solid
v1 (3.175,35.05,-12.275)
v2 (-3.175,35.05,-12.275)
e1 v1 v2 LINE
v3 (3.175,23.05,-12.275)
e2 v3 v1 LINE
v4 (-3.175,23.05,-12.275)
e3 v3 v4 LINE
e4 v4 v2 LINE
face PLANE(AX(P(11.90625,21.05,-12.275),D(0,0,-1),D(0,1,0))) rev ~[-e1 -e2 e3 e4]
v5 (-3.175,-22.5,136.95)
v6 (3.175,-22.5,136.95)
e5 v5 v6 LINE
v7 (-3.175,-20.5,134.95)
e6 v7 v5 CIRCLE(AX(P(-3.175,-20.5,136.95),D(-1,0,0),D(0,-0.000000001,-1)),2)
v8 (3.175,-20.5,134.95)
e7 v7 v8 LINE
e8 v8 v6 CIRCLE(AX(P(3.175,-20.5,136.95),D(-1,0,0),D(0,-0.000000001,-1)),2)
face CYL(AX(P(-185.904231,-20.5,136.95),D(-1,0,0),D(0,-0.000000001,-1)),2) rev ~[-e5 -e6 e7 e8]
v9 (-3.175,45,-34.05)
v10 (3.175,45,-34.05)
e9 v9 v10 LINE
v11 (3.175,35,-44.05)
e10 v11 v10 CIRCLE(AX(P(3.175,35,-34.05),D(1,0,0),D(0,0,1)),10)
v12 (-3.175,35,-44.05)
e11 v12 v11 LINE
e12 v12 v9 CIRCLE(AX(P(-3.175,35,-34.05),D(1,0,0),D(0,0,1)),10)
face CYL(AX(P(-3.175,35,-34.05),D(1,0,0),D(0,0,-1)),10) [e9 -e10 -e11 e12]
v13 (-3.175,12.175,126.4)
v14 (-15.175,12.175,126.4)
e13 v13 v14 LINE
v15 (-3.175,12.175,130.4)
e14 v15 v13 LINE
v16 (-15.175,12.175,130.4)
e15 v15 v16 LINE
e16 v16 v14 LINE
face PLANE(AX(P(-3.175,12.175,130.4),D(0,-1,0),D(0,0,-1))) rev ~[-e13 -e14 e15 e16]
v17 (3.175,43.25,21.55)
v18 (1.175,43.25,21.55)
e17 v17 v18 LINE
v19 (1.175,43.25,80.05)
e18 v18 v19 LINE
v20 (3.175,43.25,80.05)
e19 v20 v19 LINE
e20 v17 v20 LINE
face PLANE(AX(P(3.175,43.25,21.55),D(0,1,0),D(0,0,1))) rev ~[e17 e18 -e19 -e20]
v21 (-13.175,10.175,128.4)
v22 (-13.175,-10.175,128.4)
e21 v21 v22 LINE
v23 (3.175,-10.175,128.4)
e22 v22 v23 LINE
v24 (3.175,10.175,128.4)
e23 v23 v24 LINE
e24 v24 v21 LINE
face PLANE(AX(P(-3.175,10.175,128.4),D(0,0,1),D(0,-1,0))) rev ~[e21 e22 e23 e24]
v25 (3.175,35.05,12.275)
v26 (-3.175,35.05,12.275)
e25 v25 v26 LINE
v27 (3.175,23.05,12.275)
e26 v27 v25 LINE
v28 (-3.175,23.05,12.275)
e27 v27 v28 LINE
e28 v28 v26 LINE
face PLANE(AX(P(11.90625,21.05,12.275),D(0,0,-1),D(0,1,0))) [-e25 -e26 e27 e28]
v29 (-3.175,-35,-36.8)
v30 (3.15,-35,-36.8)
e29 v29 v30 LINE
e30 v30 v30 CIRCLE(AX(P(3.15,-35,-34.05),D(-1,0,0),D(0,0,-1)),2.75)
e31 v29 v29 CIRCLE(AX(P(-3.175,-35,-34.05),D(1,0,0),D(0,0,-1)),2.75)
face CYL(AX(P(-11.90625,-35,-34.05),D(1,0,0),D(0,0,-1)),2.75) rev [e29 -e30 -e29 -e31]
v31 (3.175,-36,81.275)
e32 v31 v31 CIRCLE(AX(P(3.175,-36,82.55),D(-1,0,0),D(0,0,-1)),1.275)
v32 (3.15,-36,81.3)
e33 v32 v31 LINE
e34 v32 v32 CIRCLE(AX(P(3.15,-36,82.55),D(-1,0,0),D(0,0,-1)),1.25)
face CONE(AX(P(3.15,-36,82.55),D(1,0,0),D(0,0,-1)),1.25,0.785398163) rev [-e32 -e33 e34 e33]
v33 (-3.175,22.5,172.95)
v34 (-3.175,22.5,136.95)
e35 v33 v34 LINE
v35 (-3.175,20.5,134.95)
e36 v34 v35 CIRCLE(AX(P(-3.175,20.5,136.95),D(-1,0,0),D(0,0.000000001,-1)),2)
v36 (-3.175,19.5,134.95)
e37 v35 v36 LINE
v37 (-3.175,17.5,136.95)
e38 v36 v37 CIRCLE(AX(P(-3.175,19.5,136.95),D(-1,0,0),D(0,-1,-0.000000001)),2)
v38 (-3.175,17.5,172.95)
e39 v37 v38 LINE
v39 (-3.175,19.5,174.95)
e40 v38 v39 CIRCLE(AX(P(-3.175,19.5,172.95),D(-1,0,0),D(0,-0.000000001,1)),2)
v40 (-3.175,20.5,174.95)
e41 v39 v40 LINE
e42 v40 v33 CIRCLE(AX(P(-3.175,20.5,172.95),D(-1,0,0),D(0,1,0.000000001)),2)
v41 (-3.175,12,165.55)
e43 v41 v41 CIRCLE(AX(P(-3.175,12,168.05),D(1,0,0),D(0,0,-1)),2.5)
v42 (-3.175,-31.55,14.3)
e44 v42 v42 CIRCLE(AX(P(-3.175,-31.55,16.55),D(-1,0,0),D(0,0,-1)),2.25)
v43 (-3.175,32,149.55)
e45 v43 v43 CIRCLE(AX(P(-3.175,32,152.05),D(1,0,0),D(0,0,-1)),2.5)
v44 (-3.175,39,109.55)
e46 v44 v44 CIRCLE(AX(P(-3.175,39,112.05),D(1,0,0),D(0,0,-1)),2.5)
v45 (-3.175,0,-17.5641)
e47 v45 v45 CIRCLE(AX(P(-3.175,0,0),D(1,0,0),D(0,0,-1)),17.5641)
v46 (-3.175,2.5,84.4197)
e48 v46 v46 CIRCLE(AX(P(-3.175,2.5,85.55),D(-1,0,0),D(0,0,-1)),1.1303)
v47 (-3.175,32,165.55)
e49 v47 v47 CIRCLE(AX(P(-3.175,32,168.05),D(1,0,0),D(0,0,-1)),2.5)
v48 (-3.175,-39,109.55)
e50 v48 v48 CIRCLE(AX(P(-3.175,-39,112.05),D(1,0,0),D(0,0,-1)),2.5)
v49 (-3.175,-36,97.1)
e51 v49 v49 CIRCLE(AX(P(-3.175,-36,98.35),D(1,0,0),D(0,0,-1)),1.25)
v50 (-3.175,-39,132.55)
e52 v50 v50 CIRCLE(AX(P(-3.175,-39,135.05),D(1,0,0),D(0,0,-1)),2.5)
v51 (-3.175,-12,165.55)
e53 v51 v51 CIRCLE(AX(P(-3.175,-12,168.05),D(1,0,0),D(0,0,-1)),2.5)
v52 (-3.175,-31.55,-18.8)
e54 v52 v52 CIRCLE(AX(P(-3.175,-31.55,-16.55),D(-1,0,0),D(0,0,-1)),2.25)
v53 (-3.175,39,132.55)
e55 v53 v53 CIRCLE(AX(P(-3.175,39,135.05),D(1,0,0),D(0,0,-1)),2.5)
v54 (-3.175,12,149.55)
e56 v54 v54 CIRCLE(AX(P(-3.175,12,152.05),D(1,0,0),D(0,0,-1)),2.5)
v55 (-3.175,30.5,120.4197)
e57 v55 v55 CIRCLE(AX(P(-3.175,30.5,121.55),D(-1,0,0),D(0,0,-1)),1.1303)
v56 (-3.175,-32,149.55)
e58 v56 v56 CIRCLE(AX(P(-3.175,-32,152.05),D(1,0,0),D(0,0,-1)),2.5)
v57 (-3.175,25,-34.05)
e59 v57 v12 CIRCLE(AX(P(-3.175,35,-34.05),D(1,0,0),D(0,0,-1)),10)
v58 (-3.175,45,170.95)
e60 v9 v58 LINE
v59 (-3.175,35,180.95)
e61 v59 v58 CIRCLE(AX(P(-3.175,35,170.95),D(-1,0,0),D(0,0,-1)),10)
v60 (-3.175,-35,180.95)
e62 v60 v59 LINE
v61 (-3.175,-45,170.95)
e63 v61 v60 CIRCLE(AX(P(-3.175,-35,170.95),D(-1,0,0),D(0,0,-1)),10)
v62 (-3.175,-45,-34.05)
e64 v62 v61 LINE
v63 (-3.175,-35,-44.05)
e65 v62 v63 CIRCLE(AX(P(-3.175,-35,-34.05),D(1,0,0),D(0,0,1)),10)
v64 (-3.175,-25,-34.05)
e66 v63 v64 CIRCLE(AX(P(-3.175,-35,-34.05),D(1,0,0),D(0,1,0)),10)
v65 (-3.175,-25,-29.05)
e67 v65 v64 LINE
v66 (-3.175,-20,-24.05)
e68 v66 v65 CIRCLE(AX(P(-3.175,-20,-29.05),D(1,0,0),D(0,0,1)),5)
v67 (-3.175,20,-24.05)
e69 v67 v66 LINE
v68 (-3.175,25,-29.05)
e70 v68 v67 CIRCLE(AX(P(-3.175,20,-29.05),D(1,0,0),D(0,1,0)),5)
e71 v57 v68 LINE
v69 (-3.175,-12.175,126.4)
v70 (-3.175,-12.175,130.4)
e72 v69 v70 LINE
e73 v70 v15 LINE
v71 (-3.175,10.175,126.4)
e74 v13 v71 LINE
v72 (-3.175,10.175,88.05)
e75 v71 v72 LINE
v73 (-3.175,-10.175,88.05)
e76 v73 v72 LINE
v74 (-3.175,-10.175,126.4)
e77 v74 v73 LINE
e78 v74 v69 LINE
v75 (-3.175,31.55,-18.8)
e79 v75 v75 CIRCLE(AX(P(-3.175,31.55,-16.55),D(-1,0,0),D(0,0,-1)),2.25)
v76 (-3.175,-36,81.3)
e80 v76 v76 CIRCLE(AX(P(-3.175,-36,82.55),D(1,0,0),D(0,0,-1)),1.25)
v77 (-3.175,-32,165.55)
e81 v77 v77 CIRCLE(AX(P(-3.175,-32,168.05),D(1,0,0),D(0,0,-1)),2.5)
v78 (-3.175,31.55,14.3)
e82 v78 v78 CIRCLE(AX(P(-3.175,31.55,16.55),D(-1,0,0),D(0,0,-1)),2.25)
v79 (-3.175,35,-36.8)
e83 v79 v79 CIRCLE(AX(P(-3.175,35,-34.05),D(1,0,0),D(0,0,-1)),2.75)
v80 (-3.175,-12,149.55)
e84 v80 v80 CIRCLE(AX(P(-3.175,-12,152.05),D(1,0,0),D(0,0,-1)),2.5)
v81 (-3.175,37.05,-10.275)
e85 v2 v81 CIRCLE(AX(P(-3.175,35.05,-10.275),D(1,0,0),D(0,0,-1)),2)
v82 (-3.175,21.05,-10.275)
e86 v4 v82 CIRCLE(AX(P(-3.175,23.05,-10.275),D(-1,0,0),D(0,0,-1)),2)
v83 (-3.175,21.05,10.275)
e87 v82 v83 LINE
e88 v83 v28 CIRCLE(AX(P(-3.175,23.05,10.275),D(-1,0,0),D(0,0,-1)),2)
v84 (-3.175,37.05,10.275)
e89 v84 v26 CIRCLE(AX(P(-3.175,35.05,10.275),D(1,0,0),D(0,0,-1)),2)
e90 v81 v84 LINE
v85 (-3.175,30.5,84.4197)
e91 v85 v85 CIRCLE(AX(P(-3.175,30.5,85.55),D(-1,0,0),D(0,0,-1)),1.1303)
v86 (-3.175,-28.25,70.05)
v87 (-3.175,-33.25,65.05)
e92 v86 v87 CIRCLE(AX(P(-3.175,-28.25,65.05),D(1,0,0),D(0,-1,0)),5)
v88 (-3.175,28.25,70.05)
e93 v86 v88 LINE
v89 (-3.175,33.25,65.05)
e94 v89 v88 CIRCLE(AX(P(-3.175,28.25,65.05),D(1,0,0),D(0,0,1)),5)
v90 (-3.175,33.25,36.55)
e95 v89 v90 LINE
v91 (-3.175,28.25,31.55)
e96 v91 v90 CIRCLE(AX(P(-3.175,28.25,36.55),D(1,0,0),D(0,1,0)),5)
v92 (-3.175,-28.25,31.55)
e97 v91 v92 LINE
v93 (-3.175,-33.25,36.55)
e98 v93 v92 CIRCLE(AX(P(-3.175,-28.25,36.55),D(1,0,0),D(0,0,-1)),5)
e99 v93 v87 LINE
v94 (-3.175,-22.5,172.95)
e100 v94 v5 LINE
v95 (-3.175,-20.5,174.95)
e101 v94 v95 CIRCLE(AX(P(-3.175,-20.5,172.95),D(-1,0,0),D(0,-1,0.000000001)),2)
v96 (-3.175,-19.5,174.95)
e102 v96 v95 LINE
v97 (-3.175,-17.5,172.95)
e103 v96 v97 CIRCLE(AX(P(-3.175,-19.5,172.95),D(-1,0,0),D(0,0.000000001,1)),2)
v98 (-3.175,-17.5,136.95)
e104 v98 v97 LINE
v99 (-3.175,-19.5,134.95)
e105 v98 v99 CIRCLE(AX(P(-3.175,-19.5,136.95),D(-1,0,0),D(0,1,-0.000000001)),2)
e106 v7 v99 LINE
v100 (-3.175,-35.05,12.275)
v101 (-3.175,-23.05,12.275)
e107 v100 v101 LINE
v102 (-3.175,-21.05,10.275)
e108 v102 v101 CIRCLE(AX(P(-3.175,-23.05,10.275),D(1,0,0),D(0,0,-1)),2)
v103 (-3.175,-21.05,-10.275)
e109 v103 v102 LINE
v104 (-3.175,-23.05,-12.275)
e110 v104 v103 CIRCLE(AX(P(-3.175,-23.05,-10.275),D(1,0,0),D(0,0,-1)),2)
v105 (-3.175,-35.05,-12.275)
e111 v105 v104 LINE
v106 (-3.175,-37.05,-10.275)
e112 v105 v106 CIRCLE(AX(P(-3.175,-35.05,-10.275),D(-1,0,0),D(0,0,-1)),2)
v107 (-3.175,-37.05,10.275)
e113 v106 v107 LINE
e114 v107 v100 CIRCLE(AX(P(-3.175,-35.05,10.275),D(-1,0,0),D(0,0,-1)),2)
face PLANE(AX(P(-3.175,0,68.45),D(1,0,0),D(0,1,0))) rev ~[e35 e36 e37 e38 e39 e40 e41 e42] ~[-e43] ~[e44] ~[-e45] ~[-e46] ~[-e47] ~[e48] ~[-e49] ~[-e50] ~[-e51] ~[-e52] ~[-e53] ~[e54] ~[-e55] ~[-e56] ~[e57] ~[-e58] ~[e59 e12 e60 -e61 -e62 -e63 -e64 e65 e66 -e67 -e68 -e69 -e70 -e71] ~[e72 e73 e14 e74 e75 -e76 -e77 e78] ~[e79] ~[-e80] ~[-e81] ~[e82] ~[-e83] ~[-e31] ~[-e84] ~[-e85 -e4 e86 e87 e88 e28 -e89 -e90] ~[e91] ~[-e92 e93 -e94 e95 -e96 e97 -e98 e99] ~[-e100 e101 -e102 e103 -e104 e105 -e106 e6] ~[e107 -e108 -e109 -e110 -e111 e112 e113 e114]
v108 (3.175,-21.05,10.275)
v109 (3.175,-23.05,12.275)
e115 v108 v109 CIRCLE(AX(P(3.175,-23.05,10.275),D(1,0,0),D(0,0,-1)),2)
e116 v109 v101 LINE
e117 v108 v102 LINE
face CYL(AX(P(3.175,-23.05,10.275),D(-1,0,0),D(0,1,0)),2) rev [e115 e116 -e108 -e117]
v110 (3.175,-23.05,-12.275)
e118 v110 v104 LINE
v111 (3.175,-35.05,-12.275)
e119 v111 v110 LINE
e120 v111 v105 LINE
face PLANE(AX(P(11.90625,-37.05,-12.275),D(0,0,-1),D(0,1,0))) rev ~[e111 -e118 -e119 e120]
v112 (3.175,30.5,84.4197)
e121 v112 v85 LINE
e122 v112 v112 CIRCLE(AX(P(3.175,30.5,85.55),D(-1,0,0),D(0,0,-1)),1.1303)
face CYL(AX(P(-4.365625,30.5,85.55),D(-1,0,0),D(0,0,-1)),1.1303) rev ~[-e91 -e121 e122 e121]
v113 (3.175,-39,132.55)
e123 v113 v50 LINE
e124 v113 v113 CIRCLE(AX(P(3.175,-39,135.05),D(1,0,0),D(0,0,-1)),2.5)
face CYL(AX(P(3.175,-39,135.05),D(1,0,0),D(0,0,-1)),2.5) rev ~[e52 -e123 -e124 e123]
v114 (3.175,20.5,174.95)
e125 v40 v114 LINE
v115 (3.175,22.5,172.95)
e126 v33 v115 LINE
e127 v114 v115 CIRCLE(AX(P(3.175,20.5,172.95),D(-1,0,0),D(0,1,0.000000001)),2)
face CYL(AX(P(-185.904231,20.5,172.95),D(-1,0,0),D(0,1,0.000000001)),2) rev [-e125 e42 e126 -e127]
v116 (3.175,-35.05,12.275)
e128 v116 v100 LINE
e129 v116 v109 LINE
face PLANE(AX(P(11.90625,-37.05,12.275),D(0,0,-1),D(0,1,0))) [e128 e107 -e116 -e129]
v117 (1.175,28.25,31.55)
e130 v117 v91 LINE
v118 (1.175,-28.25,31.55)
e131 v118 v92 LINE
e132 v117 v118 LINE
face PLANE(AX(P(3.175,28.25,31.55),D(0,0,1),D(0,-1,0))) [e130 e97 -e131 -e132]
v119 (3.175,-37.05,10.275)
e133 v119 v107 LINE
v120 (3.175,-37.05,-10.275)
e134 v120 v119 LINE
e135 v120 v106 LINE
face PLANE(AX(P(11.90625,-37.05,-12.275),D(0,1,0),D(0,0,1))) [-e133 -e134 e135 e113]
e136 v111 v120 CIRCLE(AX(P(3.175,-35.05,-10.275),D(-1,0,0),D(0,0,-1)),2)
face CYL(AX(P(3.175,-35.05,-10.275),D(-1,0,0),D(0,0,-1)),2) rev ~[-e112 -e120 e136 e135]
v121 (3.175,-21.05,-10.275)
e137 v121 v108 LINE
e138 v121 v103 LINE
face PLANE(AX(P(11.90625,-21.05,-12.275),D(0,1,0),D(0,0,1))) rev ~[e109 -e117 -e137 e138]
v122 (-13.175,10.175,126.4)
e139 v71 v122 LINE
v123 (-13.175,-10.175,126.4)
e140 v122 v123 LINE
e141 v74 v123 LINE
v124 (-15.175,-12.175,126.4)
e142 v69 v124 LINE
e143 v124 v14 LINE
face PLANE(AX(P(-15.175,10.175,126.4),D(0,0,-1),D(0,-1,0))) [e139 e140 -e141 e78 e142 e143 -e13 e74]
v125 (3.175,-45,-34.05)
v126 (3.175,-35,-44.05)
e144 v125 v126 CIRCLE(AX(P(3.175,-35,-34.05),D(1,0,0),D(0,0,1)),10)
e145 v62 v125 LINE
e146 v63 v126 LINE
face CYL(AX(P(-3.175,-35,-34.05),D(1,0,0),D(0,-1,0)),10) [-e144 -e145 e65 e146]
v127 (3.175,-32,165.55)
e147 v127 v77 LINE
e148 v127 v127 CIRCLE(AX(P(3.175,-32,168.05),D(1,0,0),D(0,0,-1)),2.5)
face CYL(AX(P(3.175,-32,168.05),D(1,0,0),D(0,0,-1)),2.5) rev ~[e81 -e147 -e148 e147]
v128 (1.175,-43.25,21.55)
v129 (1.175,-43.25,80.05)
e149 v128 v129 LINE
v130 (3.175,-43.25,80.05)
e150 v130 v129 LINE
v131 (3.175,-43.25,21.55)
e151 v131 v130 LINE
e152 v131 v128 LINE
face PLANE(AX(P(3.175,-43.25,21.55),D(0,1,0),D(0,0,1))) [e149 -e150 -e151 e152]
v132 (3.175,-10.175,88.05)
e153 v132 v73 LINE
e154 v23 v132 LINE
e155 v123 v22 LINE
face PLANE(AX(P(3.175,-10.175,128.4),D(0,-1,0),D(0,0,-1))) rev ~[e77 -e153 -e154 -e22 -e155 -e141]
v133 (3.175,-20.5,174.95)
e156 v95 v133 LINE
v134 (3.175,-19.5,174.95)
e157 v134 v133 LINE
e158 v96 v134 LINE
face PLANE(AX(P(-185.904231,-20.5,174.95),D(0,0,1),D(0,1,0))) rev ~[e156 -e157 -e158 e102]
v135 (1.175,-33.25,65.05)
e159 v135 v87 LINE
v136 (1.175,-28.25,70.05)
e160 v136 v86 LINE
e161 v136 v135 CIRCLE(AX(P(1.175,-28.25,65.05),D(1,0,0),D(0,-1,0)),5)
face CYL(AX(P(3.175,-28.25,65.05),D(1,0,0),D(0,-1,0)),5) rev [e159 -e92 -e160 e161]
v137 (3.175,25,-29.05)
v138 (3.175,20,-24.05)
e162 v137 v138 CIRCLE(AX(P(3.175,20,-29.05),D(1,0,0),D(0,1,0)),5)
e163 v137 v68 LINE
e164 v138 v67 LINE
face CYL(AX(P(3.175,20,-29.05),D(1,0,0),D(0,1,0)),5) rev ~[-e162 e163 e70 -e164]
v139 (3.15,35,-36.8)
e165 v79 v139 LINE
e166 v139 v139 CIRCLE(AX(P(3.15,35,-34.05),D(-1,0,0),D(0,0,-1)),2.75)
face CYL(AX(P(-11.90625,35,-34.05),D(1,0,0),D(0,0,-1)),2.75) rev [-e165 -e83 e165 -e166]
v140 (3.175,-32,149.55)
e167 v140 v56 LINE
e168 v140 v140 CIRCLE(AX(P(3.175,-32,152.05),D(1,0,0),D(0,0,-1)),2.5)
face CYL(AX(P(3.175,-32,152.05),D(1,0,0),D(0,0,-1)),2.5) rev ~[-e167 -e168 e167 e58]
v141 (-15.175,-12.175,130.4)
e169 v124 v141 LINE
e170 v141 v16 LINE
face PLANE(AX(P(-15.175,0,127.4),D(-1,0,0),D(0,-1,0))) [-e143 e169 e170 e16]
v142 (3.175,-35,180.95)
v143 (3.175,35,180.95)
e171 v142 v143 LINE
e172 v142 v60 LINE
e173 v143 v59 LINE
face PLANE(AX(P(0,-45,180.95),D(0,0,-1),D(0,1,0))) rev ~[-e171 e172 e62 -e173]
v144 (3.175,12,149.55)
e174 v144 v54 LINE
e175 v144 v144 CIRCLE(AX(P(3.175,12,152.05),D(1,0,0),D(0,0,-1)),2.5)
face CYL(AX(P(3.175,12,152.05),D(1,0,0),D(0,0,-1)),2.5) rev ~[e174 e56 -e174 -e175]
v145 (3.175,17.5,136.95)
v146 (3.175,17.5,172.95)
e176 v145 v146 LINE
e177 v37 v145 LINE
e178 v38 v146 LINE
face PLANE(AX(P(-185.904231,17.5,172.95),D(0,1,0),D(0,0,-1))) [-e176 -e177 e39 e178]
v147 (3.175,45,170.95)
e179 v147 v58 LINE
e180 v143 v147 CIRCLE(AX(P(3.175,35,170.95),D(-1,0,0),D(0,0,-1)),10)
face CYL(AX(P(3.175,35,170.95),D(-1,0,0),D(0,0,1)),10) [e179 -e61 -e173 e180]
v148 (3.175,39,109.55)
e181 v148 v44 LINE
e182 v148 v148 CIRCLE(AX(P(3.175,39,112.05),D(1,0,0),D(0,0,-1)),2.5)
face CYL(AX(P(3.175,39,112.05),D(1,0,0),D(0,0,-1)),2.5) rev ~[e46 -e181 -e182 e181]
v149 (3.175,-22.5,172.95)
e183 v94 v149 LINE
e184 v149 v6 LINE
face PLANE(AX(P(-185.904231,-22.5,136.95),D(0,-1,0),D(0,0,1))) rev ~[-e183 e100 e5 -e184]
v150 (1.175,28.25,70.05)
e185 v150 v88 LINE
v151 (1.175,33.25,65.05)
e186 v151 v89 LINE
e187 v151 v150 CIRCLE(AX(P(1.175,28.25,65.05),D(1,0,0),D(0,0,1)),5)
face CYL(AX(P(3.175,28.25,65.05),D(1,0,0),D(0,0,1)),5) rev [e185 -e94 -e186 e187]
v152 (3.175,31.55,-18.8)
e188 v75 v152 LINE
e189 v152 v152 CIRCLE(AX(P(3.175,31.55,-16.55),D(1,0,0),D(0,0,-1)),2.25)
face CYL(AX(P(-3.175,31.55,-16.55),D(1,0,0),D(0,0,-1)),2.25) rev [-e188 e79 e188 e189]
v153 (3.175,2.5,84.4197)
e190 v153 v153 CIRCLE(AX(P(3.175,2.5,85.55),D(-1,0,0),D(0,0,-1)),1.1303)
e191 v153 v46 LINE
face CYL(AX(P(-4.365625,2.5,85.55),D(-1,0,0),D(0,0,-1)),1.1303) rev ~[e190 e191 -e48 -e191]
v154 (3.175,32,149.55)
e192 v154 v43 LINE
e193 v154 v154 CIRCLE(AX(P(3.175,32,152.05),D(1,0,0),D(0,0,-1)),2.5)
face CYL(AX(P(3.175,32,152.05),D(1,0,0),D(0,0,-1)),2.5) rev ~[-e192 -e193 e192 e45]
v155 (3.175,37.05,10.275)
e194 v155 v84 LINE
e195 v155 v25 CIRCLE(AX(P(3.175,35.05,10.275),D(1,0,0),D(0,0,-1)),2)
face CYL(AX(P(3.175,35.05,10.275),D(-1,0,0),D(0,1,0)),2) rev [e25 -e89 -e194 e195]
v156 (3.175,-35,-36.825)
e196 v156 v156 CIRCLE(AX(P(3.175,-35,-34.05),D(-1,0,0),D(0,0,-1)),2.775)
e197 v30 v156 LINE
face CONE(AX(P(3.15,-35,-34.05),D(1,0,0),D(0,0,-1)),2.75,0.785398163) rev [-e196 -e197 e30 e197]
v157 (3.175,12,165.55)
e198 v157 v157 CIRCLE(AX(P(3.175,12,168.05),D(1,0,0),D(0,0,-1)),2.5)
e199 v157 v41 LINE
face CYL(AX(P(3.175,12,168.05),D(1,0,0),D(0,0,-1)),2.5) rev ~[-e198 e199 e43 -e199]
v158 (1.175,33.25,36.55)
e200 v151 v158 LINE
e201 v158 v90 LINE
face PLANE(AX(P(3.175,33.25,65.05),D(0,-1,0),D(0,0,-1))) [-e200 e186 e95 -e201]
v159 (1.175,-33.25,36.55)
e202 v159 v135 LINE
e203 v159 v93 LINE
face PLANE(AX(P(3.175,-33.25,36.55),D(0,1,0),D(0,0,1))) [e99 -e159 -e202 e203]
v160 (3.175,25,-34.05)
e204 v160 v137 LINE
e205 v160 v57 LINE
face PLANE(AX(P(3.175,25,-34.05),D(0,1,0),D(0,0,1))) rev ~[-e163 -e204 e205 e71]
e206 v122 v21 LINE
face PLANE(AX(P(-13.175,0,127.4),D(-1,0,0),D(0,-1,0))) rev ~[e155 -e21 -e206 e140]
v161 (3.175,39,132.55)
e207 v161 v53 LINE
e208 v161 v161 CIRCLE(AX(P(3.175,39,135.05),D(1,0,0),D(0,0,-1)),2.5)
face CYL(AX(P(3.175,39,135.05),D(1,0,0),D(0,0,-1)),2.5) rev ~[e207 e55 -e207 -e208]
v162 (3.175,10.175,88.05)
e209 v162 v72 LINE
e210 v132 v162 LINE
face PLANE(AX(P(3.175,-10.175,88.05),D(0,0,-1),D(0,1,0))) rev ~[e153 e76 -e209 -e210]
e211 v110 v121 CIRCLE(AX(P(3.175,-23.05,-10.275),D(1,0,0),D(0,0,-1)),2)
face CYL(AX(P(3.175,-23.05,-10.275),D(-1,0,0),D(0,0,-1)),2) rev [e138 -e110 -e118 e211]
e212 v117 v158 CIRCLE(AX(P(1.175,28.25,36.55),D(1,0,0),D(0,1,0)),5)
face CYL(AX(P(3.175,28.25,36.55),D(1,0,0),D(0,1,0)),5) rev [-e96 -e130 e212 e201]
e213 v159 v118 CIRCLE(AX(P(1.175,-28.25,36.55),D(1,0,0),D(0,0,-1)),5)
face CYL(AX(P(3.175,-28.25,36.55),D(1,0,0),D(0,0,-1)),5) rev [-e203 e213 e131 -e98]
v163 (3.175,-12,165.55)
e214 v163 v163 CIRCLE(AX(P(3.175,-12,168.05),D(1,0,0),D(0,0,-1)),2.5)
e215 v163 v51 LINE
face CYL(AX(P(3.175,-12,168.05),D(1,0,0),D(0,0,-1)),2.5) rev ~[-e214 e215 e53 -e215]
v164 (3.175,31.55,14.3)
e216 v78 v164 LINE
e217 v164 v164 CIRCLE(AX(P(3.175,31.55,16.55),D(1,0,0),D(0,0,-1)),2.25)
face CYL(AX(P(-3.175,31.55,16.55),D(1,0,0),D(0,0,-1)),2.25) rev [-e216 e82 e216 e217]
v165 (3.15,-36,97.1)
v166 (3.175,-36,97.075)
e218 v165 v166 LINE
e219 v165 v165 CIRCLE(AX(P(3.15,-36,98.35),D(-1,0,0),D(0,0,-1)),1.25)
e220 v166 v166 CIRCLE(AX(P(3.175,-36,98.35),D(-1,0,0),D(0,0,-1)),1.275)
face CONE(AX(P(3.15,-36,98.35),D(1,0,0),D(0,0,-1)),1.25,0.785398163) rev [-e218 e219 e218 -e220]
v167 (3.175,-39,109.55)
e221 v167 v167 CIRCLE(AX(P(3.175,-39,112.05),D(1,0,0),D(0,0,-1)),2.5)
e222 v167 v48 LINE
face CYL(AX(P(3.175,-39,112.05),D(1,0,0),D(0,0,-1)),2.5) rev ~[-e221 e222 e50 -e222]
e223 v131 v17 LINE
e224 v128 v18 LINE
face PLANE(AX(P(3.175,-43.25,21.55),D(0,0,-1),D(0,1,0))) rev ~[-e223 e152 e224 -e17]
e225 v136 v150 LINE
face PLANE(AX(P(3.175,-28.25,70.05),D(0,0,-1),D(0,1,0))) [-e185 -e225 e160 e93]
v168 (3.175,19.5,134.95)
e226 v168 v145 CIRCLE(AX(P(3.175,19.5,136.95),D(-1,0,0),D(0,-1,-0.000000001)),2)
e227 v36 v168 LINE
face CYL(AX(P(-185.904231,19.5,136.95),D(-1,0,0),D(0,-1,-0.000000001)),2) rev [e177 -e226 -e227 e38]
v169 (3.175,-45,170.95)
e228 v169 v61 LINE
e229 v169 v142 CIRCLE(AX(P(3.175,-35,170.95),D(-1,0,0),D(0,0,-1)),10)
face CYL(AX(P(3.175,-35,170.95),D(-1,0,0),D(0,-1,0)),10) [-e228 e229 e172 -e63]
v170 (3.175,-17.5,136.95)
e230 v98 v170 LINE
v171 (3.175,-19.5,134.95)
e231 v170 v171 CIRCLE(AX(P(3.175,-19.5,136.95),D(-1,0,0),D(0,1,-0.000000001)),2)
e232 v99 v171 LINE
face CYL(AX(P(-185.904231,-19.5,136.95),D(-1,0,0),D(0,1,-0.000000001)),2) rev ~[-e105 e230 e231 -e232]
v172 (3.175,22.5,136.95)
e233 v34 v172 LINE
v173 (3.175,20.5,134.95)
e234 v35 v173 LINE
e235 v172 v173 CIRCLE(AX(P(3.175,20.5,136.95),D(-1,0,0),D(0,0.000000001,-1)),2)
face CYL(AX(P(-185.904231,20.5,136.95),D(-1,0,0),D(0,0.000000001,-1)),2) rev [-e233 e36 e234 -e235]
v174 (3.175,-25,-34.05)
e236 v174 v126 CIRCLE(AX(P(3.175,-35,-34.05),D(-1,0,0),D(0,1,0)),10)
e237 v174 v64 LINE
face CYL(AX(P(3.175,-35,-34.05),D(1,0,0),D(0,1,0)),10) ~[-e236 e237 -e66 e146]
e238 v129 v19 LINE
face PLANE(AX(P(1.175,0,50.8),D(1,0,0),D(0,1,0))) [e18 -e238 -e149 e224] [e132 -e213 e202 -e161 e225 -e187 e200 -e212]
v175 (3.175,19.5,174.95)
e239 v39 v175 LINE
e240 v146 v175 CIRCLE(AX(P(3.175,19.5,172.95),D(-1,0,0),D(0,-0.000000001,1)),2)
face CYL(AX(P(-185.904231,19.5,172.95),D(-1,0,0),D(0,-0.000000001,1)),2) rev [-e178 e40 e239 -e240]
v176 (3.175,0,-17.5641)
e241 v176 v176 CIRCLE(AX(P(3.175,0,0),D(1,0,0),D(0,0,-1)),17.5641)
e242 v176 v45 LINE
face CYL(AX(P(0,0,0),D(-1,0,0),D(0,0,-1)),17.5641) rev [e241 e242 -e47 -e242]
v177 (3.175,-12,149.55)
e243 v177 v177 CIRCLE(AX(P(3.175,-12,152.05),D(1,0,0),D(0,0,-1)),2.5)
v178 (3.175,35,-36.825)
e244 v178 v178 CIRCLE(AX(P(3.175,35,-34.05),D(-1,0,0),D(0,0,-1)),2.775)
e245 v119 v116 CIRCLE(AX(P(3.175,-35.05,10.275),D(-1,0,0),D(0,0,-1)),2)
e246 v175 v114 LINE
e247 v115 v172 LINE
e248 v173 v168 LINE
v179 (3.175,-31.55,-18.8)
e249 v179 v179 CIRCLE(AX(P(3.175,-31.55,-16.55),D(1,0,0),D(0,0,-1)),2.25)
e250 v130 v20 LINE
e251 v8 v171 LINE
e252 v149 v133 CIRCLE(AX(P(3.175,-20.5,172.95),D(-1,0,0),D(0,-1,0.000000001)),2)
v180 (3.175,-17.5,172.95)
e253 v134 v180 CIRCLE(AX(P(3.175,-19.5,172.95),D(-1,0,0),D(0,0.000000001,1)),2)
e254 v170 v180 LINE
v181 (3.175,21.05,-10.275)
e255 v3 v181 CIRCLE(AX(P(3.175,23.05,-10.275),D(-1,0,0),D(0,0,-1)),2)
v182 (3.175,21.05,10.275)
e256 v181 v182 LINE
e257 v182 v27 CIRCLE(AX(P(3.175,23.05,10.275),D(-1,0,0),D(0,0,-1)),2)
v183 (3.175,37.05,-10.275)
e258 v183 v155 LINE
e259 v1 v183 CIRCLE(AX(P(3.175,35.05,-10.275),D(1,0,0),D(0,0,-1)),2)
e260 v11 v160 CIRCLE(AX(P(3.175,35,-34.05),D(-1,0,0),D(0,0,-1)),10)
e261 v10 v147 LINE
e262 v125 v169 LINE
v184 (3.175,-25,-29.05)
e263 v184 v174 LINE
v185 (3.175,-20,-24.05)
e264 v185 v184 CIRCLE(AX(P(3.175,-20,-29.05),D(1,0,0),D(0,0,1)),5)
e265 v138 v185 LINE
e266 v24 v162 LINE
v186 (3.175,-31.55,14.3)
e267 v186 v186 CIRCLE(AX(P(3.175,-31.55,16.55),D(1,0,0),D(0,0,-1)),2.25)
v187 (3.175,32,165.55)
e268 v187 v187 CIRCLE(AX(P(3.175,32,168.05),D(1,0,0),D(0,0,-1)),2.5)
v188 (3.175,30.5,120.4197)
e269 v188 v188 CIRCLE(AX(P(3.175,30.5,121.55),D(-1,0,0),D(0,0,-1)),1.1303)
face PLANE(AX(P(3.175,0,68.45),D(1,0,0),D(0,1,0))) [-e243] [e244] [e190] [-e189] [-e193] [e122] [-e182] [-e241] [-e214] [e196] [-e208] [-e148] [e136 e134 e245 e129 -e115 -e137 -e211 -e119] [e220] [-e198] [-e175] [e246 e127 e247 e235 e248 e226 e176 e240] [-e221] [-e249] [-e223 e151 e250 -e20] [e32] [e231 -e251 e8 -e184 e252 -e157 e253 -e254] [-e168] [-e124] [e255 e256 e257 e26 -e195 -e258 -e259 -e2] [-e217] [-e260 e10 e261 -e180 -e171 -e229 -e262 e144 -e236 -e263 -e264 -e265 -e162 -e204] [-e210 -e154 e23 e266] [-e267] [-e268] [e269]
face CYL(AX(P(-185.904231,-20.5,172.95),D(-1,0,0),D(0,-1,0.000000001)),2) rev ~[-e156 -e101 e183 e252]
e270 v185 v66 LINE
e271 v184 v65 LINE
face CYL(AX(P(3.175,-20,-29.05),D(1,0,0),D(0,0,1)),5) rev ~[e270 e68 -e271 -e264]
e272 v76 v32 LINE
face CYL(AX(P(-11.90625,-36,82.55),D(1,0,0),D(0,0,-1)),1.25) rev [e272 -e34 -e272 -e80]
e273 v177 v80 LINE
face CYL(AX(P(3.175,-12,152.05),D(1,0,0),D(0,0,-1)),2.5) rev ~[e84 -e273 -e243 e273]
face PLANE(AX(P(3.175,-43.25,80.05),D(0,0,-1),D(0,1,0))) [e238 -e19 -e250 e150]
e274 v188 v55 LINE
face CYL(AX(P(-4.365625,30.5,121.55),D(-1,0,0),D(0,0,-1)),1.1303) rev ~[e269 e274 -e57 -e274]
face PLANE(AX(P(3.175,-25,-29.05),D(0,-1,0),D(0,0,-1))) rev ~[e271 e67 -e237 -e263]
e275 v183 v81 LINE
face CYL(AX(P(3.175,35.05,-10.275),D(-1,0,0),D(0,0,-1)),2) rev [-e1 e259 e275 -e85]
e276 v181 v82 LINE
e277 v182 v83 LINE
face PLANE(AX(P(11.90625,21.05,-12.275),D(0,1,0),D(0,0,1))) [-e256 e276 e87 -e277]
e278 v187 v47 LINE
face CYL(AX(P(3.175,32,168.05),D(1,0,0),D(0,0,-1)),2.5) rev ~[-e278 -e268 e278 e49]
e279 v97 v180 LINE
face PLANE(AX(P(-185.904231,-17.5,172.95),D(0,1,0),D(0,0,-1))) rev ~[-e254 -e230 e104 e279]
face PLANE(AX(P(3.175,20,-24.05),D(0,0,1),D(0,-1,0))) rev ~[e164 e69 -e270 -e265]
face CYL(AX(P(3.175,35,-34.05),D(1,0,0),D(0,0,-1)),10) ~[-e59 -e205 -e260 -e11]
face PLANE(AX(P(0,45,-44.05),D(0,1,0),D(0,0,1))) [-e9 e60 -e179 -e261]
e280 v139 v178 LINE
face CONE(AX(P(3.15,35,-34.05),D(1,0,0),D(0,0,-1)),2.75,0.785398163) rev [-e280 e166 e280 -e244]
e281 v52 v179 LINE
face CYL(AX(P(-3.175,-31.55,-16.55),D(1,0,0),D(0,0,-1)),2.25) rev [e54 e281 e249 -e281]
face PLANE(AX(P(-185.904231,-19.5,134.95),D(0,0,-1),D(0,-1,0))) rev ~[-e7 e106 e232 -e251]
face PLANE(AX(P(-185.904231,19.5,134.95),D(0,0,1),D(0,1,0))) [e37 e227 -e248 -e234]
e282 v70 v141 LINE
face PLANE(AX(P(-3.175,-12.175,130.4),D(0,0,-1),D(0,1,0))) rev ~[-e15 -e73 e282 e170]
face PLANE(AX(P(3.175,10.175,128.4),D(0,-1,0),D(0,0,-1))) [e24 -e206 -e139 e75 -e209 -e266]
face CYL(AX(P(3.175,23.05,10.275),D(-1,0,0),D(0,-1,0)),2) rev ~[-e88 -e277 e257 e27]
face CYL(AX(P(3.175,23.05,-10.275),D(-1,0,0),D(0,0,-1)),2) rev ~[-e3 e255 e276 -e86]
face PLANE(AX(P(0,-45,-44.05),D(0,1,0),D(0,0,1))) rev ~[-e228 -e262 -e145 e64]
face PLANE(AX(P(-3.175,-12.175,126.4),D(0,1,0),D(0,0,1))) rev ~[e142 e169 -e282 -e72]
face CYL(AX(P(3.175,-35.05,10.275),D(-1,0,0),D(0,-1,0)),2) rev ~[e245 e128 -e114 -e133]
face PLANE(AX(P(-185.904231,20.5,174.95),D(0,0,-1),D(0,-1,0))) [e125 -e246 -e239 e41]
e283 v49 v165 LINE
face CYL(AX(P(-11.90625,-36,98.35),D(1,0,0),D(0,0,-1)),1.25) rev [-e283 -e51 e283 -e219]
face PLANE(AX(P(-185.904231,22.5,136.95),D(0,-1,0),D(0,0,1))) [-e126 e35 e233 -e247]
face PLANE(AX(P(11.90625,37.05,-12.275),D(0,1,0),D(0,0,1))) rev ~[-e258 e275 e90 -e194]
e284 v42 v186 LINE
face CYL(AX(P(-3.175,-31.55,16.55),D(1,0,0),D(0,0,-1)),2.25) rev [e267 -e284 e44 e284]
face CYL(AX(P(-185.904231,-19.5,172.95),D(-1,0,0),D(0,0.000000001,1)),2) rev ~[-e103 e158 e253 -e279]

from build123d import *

# Parameters (mm, degrees)
SKETCH1_W                            = 90
SKETCH1_H                            = 225
SKETCH1_R                            = 17.5641
BOSS_EXTRUDE1_DEPTH                  = 3.175
SKETCH2_W                            = 78.1
SKETCH2_H                            = 43.1
BOSS_EXTRUDE2_DEPTH                  = 8.73125
M4_CLEARANCE_HOLE2_AT_2_COUNT        = 2
M4_CLEARANCE_HOLE2_AT_2_PITCH        = 33.1
M4_CLEARANCE_HOLE2_AT_3_COUNT        = 2
M4_CLEARANCE_HOLE2_AT_3_PITCH        = 71.254613886
M4_CLEARANCE_HOLE2_AT_4_COUNT        = 2
M4_CLEARANCE_HOLE2_AT_4_PITCH        = 63.1
SKETCH24_W                           = 78.1
SKETCH24_H                           = 43.1
BOSS_EXTRUDE3_DEPTH                  = 8.73125
TAP_DRILL_FOR_M4X0_7_TAP1_AT_2_COUNT = 2
TAP_DRILL_FOR_M4X0_7_TAP1_AT_2_PITCH = 33.1
TAP_DRILL_FOR_M4X0_7_TAP1_AT_3_COUNT = 2
TAP_DRILL_FOR_M4X0_7_TAP1_AT_3_PITCH = 71.254613886
TAP_DRILL_FOR_M4X0_7_TAP1_AT_4_COUNT = 2
TAP_DRILL_FOR_M4X0_7_TAP1_AT_4_PITCH = 63.1
TAP_DRILL_FOR_M3X0_5_TAP1_AT_2_COUNT = 2
TAP_DRILL_FOR_M3X0_5_TAP1_AT_2_PITCH = 15.8
SKETCH3_R                            = 17.5641
CUT_EXTRUDE3_DEPTH                   = 188.975896477
M5_CLEARANCE_HOLE1_AT_2_COUNT        = 2
M5_CLEARANCE_HOLE1_AT_2_PITCH        = 70
SKETCH14_W                           = 86.5
SKETCH14_H                           = 58.5
CUT_EXTRUDE4_DEPTH                   = 2
FILLET4_R                            = 10
FILLET5_R                            = 5
FILLET6_R                            = 5
SKETCH28_W                           = 15.5
SKETCH28_H                           = 20.75
SKETCH28_R                           = 1.5
BOSS_EXTRUDE4_DEPTH                  = 2.5
FILLET7_R                            = 1
SKETCH29_R                           = 1.5
BOSS_EXTRUDE5_DEPTH                  = 1.5
FILLET8_R                            = 0.5
SKETCH34_W                           = 1.1303
SKETCH34_H                           = 15.08125
TAP_DRILL_FOR_4_40_TAP1_AT_2_COUNT   = 2
TAP_DRILL_FOR_4_40_TAP1_AT_2_PITCH   = 36
TAP_DRILL_FOR_4_40_TAP1_AT_3_COUNT   = 2
TAP_DRILL_FOR_4_40_TAP1_AT_3_PITCH   = 45.607017004
TAP_DRILL_FOR_4_40_TAP1_AT_4_COUNT   = 2
TAP_DRILL_FOR_4_40_TAP1_AT_4_PITCH   = 28
SKETCH36_W                           = 16
SKETCH36_H                           = 24.55
CUT_EXTRUDE6_DEPTH                   = 189.979862105
FILLET9_R                            = 2
FILLET10_R                           = 2
CUT_EXTRUDE7_DEPTH                   = 189.079231247
CUT_EXTRUDE7_DEPTH_BACK              = 189.079231247
CUT_EXTRUDE8_DEPTH                   = 189.079231247
SKETCH39_R                           = 2.5
CUT_EXTRUDE9_DEPTH                   = 189.079231247
SKETCH40_W                           = 40.35
SKETCH40_H                           = 20.35
CUT_EXTRUDE10_DEPTH                  = 189.079231247
FILLET11_R                           = 2
BOSS_EXTRUDE6_DEPTH                  = 12
SKETCH43_W                           = 20.35
SKETCH43_H                           = 2
BOSS_EXTRUDE7_DEPTH                  = 2


with BuildPart() as part:
    # Sketch1 → Boss-Extrude1 (new, symmetric)
    with BuildSketch(Plane.YZ):
        with Locations((0, 68.45)):
            Rectangle(SKETCH1_W, SKETCH1_H)
        with Locations(Location((0, 0, 0), (0, 0, 270))):
            Circle(SKETCH1_R, mode=Mode.SUBTRACT)
    extrude(amount=BOSS_EXTRUDE1_DEPTH, both=True)


with BuildPart() as body_2:
    # Sketch2 → Boss-Extrude2 (new body)
    with BuildSketch(Plane.YZ.offset(3.175)):
        Rectangle(SKETCH2_W, SKETCH2_H)
    extrude(amount=BOSS_EXTRUDE2_DEPTH)


with BuildPart() as m4_clearance_hole2_tool:
    # Sketch23 → M4 Clearance Hole2 (revolve)
    with BuildSketch(Plane(origin=(11.90625, -31.55, 16.55), x_dir=(0, 0, -1), z_dir=(0, 1, 0))):
        Polygon((0, 0), (0, 15.08125), (2.25, 15.08125), (2.25, 0.025), (2.275, 0), align=None)
    m4_clearance_hole2 = revolve(axis=Axis((18.25625, -31.55, 16.55), (-1, 0, 0)))


with BuildPart() as part_1:
    add(part.part)

    # M4 Clearance Hole2: cut by m4_clearance_hole2_tool
    add(m4_clearance_hole2_tool.part, mode=Mode.SUBTRACT)


with BuildPart() as body_2_1:
    add(body_2.part)

    # M4 Clearance Hole2: cut by m4_clearance_hole2_tool
    add(m4_clearance_hole2_tool.part, mode=Mode.SUBTRACT)


with BuildPart() as m4_clearance_hole2_at_2_tool:
    # M4 Clearance Hole2 at 2: M4 Clearance Hole2 ×2
    with Locations(*[(0, 0, -i * M4_CLEARANCE_HOLE2_AT_2_PITCH) for i in range(1, M4_CLEARANCE_HOLE2_AT_2_COUNT)]):
        add(m4_clearance_hole2)


with BuildPart() as part_2:
    add(part_1.part)

    # M4 Clearance Hole2 at 2: cut by m4_clearance_hole2_at_2_tool
    add(m4_clearance_hole2_at_2_tool.part, mode=Mode.SUBTRACT)


with BuildPart() as body_2_2:
    add(body_2_1.part)

    # M4 Clearance Hole2 at 2: cut by m4_clearance_hole2_at_2_tool
    add(m4_clearance_hole2_at_2_tool.part, mode=Mode.SUBTRACT)


with BuildPart() as m4_clearance_hole2_at_3_tool:
    # M4 Clearance Hole2 at 3: M4 Clearance Hole2 ×2
    with Locations(*[Vector(0, 0.8855566897214588, -0.4645313221835228) * (i * M4_CLEARANCE_HOLE2_AT_3_PITCH) for i in range(1, M4_CLEARANCE_HOLE2_AT_3_COUNT)]):
        add(m4_clearance_hole2)


with BuildPart() as part_3:
    add(part_2.part)

    # M4 Clearance Hole2 at 3: cut by m4_clearance_hole2_at_3_tool
    add(m4_clearance_hole2_at_3_tool.part, mode=Mode.SUBTRACT)


with BuildPart() as body_2_3:
    add(body_2_2.part)

    # M4 Clearance Hole2 at 3: cut by m4_clearance_hole2_at_3_tool
    add(m4_clearance_hole2_at_3_tool.part, mode=Mode.SUBTRACT)


with BuildPart() as m4_clearance_hole2_at_4_tool:
    # M4 Clearance Hole2 at 4: M4 Clearance Hole2 ×2
    with Locations(*[(0, i * M4_CLEARANCE_HOLE2_AT_4_PITCH, 0) for i in range(1, M4_CLEARANCE_HOLE2_AT_4_COUNT)]):
        add(m4_clearance_hole2)


with BuildPart() as part_4:
    add(part_3.part)

    # M4 Clearance Hole2 at 4: cut by m4_clearance_hole2_at_4_tool
    add(m4_clearance_hole2_at_4_tool.part, mode=Mode.SUBTRACT)

    # Sketch10 → Tap Drill for M3x0.5 Tap1 (revolve, cut)
    with BuildSketch(Plane(origin=(3.175, -36, 98.35), x_dir=(0, 0, -1), z_dir=(0, 1, 0))):
        Polygon((0, 0), (0, 15.08125), (1.25, 15.08125), (1.25, 0.025), (1.275, 0), align=None)
    tap_drill_for_m3x0_5_tap1 = revolve(axis=Axis((9.525, -36, 98.35), (-1, 0, 0)), mode=Mode.SUBTRACT)

    # Tap Drill for M3x0.5 Tap1 at 2: Tap Drill for M3x0.5 Tap1 ×2
    with Locations(*[(0, 0, -i * TAP_DRILL_FOR_M3X0_5_TAP1_AT_2_PITCH) for i in range(1, TAP_DRILL_FOR_M3X0_5_TAP1_AT_2_COUNT)]):
        add(tap_drill_for_m3x0_5_tap1, mode=Mode.SUBTRACT)

    # Sketch12 → M5 Clearance Hole1 (revolve, cut)
    with BuildSketch(Plane(origin=(3.175, -35, -34.05), x_dir=(0, 0, -1), z_dir=(0, 1, 0))):
        Polygon((0, 0), (0, 15.08125), (2.75, 15.08125), (2.75, 0.025), (2.775, 0), align=None)
    m5_clearance_hole1 = revolve(axis=Axis((9.525, -35, -34.05), (-1, 0, 0)), mode=Mode.SUBTRACT)

    # M5 Clearance Hole1 at 2: M5 Clearance Hole1 ×2
    with Locations(*[(0, i * M5_CLEARANCE_HOLE1_AT_2_PITCH, 0) for i in range(1, M5_CLEARANCE_HOLE1_AT_2_COUNT)]):
        add(m5_clearance_hole1, mode=Mode.SUBTRACT)

    # Sketch14 → Cut-Extrude4 (cut)
    with BuildSketch(Plane.YZ.offset(3.175)):
        with Locations((0, 50.8)):
            Rectangle(SKETCH14_W, SKETCH14_H)
    extrude(amount=-CUT_EXTRUDE4_DEPTH, mode=Mode.SUBTRACT)

    # Fillet4
    fillet4_edges = [part_4.edges().sort_by_distance(p)[0] for p in [
        (0, -45, 180.95),
        (0, 45, 180.95),
        (0, 45, -44.05),
        (0, -45, -44.05),
    ]]
    fillet(fillet4_edges, radius=FILLET4_R)

    # Sketch34 → Tap Drill for #4-40 Tap1 (revolve, cut)
    with BuildSketch(Plane(origin=(3.175, 2.5, 121.55), x_dir=(0, 0, -1), z_dir=(0, 1, 0))):
        with Locations((0.56515, 7.540625)):
            Rectangle(SKETCH34_W, SKETCH34_H)
    tap_drill_for_4_40_tap1 = revolve(axis=Axis((9.525, 2.5, 121.55), (-1, 0, 0)), mode=Mode.SUBTRACT)

    # Tap Drill for #4-40 Tap1 at 2: Tap Drill for #4-40 Tap1 ×2
    with Locations(*[(0, 0, -i * TAP_DRILL_FOR_4_40_TAP1_AT_2_PITCH) for i in range(1, TAP_DRILL_FOR_4_40_TAP1_AT_2_COUNT)]):
        add(tap_drill_for_4_40_tap1, mode=Mode.SUBTRACT)

    # Tap Drill for #4-40 Tap1 at 3: Tap Drill for #4-40 Tap1 ×2
    with Locations(*[Vector(0, 0.6139406135149202, -0.7893522173763264) * (i * TAP_DRILL_FOR_4_40_TAP1_AT_3_PITCH) for i in range(1, TAP_DRILL_FOR_4_40_TAP1_AT_3_COUNT)]):
        add(tap_drill_for_4_40_tap1, mode=Mode.SUBTRACT)

    # Tap Drill for #4-40 Tap1 at 4: Tap Drill for #4-40 Tap1 ×2
    with Locations(*[(0, i * TAP_DRILL_FOR_4_40_TAP1_AT_4_PITCH, 0) for i in range(1, TAP_DRILL_FOR_4_40_TAP1_AT_4_COUNT)]):
        add(tap_drill_for_4_40_tap1, mode=Mode.SUBTRACT)


with BuildPart() as body_2_4:
    add(body_2_3.part)

    # M4 Clearance Hole2 at 4: cut by m4_clearance_hole2_at_4_tool
    add(m4_clearance_hole2_at_4_tool.part, mode=Mode.SUBTRACT)


with BuildPart() as body_3:
    # Sketch24 → Boss-Extrude3 (new body)
    with BuildSketch(Plane(origin=(-3.175, 0, 0), x_dir=(0, -1, 0), z_dir=(-1, 0, 0))):
        Rectangle(SKETCH24_W, SKETCH24_H)
    extrude(amount=BOSS_EXTRUDE3_DEPTH)

    # Sketch27 → Tap Drill for M4x0.7 Tap1 (revolve, cut)
    with BuildSketch(Plane(origin=(-11.90625, 31.55, 16.55), x_dir=(0, 0, 1), z_dir=(0, 1, 0))):
        Polygon((0, 0), (0, 9.722670021), (1.65, 8.73125), (1.65, 0.025), (1.675, 0), align=None)
    tap_drill_for_m4x0_7_tap1 = revolve(axis=Axis((-18.25625, 31.55, 16.55), (1, 0, 0)), mode=Mode.SUBTRACT)

    # Tap Drill for M4x0.7 Tap1 at 2: Tap Drill for M4x0.7 Tap1 ×2
    with Locations(*[(0, 0, -i * TAP_DRILL_FOR_M4X0_7_TAP1_AT_2_PITCH) for i in range(1, TAP_DRILL_FOR_M4X0_7_TAP1_AT_2_COUNT)]):
        add(tap_drill_for_m4x0_7_tap1, mode=Mode.SUBTRACT)

    # Tap Drill for M4x0.7 Tap1 at 3: Tap Drill for M4x0.7 Tap1 ×2
    with Locations(*[Vector(0, -0.8855566897214588, -0.4645313221835228) * (i * TAP_DRILL_FOR_M4X0_7_TAP1_AT_3_PITCH) for i in range(1, TAP_DRILL_FOR_M4X0_7_TAP1_AT_3_COUNT)]):
        add(tap_drill_for_m4x0_7_tap1, mode=Mode.SUBTRACT)

    # Tap Drill for M4x0.7 Tap1 at 4: Tap Drill for M4x0.7 Tap1 ×2
    with Locations(*[(0, -i * TAP_DRILL_FOR_M4X0_7_TAP1_AT_4_PITCH, 0) for i in range(1, TAP_DRILL_FOR_M4X0_7_TAP1_AT_4_COUNT)]):
        add(tap_drill_for_m4x0_7_tap1, mode=Mode.SUBTRACT)


with BuildPart() as cut_extrude3_tool:
    # Sketch3 → Cut-Extrude3 (new, through all)
    with BuildSketch(Plane.YZ.offset(11.90625)):
        with Locations(Location((0, 0, 0), (0, 0, 270))):
            Circle(SKETCH3_R)
    extrude(amount=-CUT_EXTRUDE3_DEPTH)


with BuildPart() as body_2_5:
    add(body_2_4.part)

    # Cut-Extrude3: cut by cut_extrude3_tool
    add(cut_extrude3_tool.part, mode=Mode.SUBTRACT)

    # Fillet6
    fillet6_edges = [body_2_5.edges().sort_by_distance(p)[0] for p in [
        (7.540625, -39.05, 21.55),
        (7.540625, 39.05, 21.55),
        (7.540625, 39.05, -21.55),
        (7.540625, -39.05, -21.55),
    ]]
    fillet(fillet6_edges, radius=FILLET6_R)


with BuildPart() as body_3_1:
    add(body_3.part)

    # Cut-Extrude3: cut by cut_extrude3_tool
    add(cut_extrude3_tool.part, mode=Mode.SUBTRACT)

    # Fillet5
    fillet5_edges = [body_3_1.edges().sort_by_distance(p)[0] for p in [
        (-7.540625, -39.05, 21.55),
        (-7.540625, -39.05, -21.55),
        (-7.540625, 39.05, -21.55),
        (-7.540625, 39.05, 21.55),
    ]]
    fillet(fillet5_edges, radius=FILLET5_R)


with BuildPart() as body_4:
    # Sketch28 → Boss-Extrude4 (new body)
    with BuildSketch(Plane.YZ.offset(3.175)):
        with Locations((-41.275, 90.45)):
            Rectangle(SKETCH28_W, SKETCH28_H)
        with Locations(Location((-36, 82.55, 0), (0, 0, 270))):
            Circle(SKETCH28_R, mode=Mode.SUBTRACT)
        with Locations(Location((-36, 98.35, 0), (0, 0, 270))):
            Circle(SKETCH28_R, mode=Mode.SUBTRACT)
    extrude(amount=BOSS_EXTRUDE4_DEPTH)

    # Fillet7
    fillet7_edges = [body_4.edges().sort_by_distance(p)[0] for p in [
        (4.425, -33.525, 80.075),
        (4.425, -49.025, 80.075),
        (4.425, -49.025, 100.825),
        (4.425, -33.525, 100.825),
    ]]
    fillet(fillet7_edges, radius=FILLET7_R)

    # Sketch29 → Boss-Extrude5 (add)
    with BuildSketch(Plane(origin=(3.175, 0, 0), x_dir=(0, -1, 0), z_dir=(-1, 0, 0))):
        with Locations(Location((47.025, 99.2, 0), (0, 0, 90))):
            Circle(SKETCH29_R)
        with Locations(Location((47.025, 95.7, 0), (0, 0, 90))):
            Circle(SKETCH29_R)
        with Locations(Location((47.025, 92.2, 0), (0, 0, 90))):
            Circle(SKETCH29_R)
        with Locations(Location((47.025, 88.7, 0), (0, 0, 90))):
            Circle(SKETCH29_R)
        with Locations(Location((47.025, 85.2, 0), (0, 0, 90))):
            Circle(SKETCH29_R)
        with Locations(Location((47.025, 81.7, 0), (0, 0, 90))):
            Circle(SKETCH29_R)
    extrude(amount=BOSS_EXTRUDE5_DEPTH)

    # Fillet8
    fillet8_edges = [body_4.edges().sort_by_distance(p)[0] for p in [
        (1.675, -47.025, 97.7),
        (1.675, -47.025, 94.2),
        (1.675, -47.025, 90.7),
        (1.675, -47.025, 87.2),
        (1.675, -47.025, 83.7),
        (1.675, -47.025, 80.2),
    ]]
    fillet(fillet8_edges, radius=FILLET8_R)


with BuildPart() as cut_extrude6_tool:
    # Sketch36 → Cut-Extrude6 (new, through all)
    with BuildSketch(Plane.YZ.offset(11.90625)):
        with Locations((-29.05, 0)):
            Rectangle(SKETCH36_W, SKETCH36_H)
        with Locations((29.05, 0)):
            Rectangle(SKETCH36_W, SKETCH36_H)
    extrude(amount=-CUT_EXTRUDE6_DEPTH)


with BuildPart() as part_5:
    add(part_4.part)

    # Cut-Extrude6: cut by cut_extrude6_tool
    add(cut_extrude6_tool.part, mode=Mode.SUBTRACT)

    # Sketch37 → Cut-Extrude7 (cut, two sides: drawn at the far end of the back side and taken through both)
    with BuildSketch(Plane.YZ.offset(3.175).offset(-CUT_EXTRUDE7_DEPTH_BACK)):
        with BuildLine():
            Line((-20.5, 174.95), (-19.5, 174.95))
            ThreePointArc((-19.5, 174.95), (-18.085786438, 174.364213562), (-17.5, 172.95))
            Line((-17.5, 172.95), (-17.5, 136.95))
            ThreePointArc((-17.5, 136.95), (-18.085786438, 135.535786438), (-19.5, 134.95))
            Line((-19.5, 134.95), (-20.5, 134.95))
            ThreePointArc((-20.5, 134.95), (-21.914213562, 135.535786438), (-22.5, 136.95))
            Line((-22.5, 136.95), (-22.5, 172.95))
            ThreePointArc((-22.5, 172.95), (-21.914213562, 174.364213562), (-20.5, 174.95))
        make_face()
        with BuildLine():
            Line((17.5, 172.95), (17.5, 136.95))
            ThreePointArc((17.5, 136.95), (18.085786438, 135.535786438), (19.5, 134.95))
            Line((19.5, 134.95), (20.5, 134.95))
            ThreePointArc((20.5, 134.95), (21.914213562, 135.535786438), (22.5, 136.95))
            Line((22.5, 136.95), (22.5, 172.95))
            ThreePointArc((22.5, 172.95), (21.914213562, 174.364213562), (20.5, 174.95))
            Line((20.5, 174.95), (19.5, 174.95))
            ThreePointArc((19.5, 174.95), (18.085786438, 174.364213562), (17.5, 172.95))
        make_face()
    extrude(amount=CUT_EXTRUDE7_DEPTH + CUT_EXTRUDE7_DEPTH_BACK, mode=Mode.SUBTRACT)

    # Sketch38 → Cut-Extrude8 (cut, through all)
    with BuildSketch(Plane.YZ.offset(3.175)):
        with BuildLine():
            ThreePointArc((-33.25, 65.05), (-31.785533906, 68.585533906), (-28.25, 70.05))
            Line((-28.25, 70.05), (28.25, 70.05))
            ThreePointArc((28.25, 70.05), (31.785533906, 68.585533906), (33.25, 65.05))
            Line((33.25, 65.05), (33.25, 36.55))
            ThreePointArc((33.25, 36.55), (31.785533906, 33.014466094), (28.25, 31.55))
            Line((28.25, 31.55), (-28.25, 31.55))
            ThreePointArc((-28.25, 31.55), (-31.785533906, 33.014466094), (-33.25, 36.55))
            Line((-33.25, 36.55), (-33.25, 65.05))
        make_face()
        with BuildLine():
            Line((20, -24.05), (0, -24.05))
            Line((0, -24.05), (0, -44.05))
            Line((0, -44.05), (25, -44.05))
            Line((25, -44.05), (35, -44.05))
            ThreePointArc((35, -44.05), (27.928932188, -41.121067812), (25, -34.05))
            Line((25, -34.05), (25, -29.05))
            ThreePointArc((25, -29.05), (23.535533906, -25.514466094), (20, -24.05))
        make_face()
        with BuildLine():
            Line((0, -24.05), (-20, -24.05))
            ThreePointArc((-20, -24.05), (-23.535533906, -25.514466094), (-25, -29.05))
            Line((-25, -29.05), (-25, -34.05))
            ThreePointArc((-25, -34.05), (-27.928932188, -41.121067812), (-35, -44.05))
            Line((-35, -44.05), (-25, -44.05))
            Line((-25, -44.05), (0, -44.05))
            Line((0, -44.05), (0, -24.05))
        make_face()
    extrude(amount=-CUT_EXTRUDE8_DEPTH, mode=Mode.SUBTRACT)

    # Sketch39 → Cut-Extrude9 (cut, through all)
    with BuildSketch(Plane.YZ.offset(3.175)):
        with Locations(Location((39, 112.05, 0), (0, 0, 270))):
            Circle(SKETCH39_R)
        with Locations(Location((32, 168.05, 0), (0, 0, 270))):
            Circle(SKETCH39_R)
        with Locations(Location((32, 152.05, 0), (0, 0, 270))):
            Circle(SKETCH39_R)
        with Locations(Location((12, 168.05, 0), (0, 0, 270))):
            Circle(SKETCH39_R)
        with Locations(Location((12, 152.05, 0), (0, 0, 270))):
            Circle(SKETCH39_R)
        with Locations(Location((39, 135.05, 0), (0, 0, 270))):
            Circle(SKETCH39_R)
        with Locations(Location((-39, 135.05, 0), (0, 0, 270))):
            Circle(SKETCH39_R)
        with Locations(Location((-12, 152.05, 0), (0, 0, 270))):
            Circle(SKETCH39_R)
        with Locations(Location((-12, 168.05, 0), (0, 0, 270))):
            Circle(SKETCH39_R)
        with Locations(Location((-32, 152.05, 0), (0, 0, 270))):
            Circle(SKETCH39_R)
        with Locations(Location((-32, 168.05, 0), (0, 0, 270))):
            Circle(SKETCH39_R)
        with Locations(Location((-39, 112.05, 0), (0, 0, 270))):
            Circle(SKETCH39_R)
    extrude(amount=-CUT_EXTRUDE9_DEPTH, mode=Mode.SUBTRACT)

    # Sketch40 → Cut-Extrude10 (cut, through all)
    with BuildSketch(Plane(origin=(3.175, 0, 0), x_dir=(0, 0, -1), z_dir=(1, 0, 0))):
        with Locations((-108.225, 0)):
            Rectangle(SKETCH40_W, SKETCH40_H)
    extrude(amount=-CUT_EXTRUDE10_DEPTH, mode=Mode.SUBTRACT)

    # Fillet11
    fillet11_edges = [part_5.edges().sort_by_distance(p)[0] for p in [
        (0, -37.05, -12.275),
        (0, -37.05, 12.275),
        (0, -21.05, 12.275),
        (0, -21.05, -12.275),
        (0, 21.05, 12.275),
        (0, 37.05, 12.275),
        (0, 37.05, -12.275),
        (0, 21.05, -12.275),
    ]]
    fillet(fillet11_edges, radius=FILLET11_R)

    # Sketch42 → Boss-Extrude6 (add)
    with BuildSketch(Plane.YZ.offset(-3.175)):
        Polygon((-12.175, 130.4), (12.175, 130.4), (12.175, 126.4), (10.175, 126.4), (10.175, 128.4), (-10.175, 128.4), (-10.175, 126.4), (-12.175, 126.4), align=None)
    extrude(amount=-BOSS_EXTRUDE6_DEPTH)

    # Sketch43 → Boss-Extrude7 (add)
    with BuildSketch(Plane(origin=(-15.175, 0, 0), x_dir=(0, -1, 0), z_dir=(-1, 0, 0))):
        with Locations((0, 127.4)):
            Rectangle(SKETCH43_W, SKETCH43_H)
    extrude(amount=-BOSS_EXTRUDE7_DEPTH)


with BuildPart() as body_2_6:
    add(body_2_5.part)

    # Cut-Extrude6: cut by cut_extrude6_tool
    add(cut_extrude6_tool.part, mode=Mode.SUBTRACT)

    # Fillet9
    fillet9_edges = [body_2_6.edges().sort_by_distance(p)[0] for p in [
        (7.540625, -37.05, -12.275),
        (7.540625, -37.05, 12.275),
        (7.540625, -21.05, 12.275),
        (7.540625, -21.05, -12.275),
        (7.540625, 21.05, 12.275),
        (7.540625, 37.05, 12.275),
        (7.540625, 37.05, -12.275),
        (7.540625, 21.05, -12.275),
    ]]
    fillet(fillet9_edges, radius=FILLET9_R)


with BuildPart() as body_3_2:
    add(body_3_1.part)

    # Cut-Extrude6: cut by cut_extrude6_tool
    add(cut_extrude6_tool.part, mode=Mode.SUBTRACT)

    # Fillet10
    fillet10_edges = [body_3_2.edges().sort_by_distance(p)[0] for p in [
        (-7.540625, -37.05, -12.275),
        (-7.540625, -37.05, 12.275),
        (-7.540625, -21.05, 12.275),
        (-7.540625, -21.05, -12.275),
        (-7.540625, 21.05, 12.275),
        (-7.540625, 37.05, 12.275),
        (-7.540625, 37.05, -12.275),
        (-7.540625, 21.05, -12.275),
    ]]
    fillet(fillet10_edges, radius=FILLET10_R)


solid = part_5.part
